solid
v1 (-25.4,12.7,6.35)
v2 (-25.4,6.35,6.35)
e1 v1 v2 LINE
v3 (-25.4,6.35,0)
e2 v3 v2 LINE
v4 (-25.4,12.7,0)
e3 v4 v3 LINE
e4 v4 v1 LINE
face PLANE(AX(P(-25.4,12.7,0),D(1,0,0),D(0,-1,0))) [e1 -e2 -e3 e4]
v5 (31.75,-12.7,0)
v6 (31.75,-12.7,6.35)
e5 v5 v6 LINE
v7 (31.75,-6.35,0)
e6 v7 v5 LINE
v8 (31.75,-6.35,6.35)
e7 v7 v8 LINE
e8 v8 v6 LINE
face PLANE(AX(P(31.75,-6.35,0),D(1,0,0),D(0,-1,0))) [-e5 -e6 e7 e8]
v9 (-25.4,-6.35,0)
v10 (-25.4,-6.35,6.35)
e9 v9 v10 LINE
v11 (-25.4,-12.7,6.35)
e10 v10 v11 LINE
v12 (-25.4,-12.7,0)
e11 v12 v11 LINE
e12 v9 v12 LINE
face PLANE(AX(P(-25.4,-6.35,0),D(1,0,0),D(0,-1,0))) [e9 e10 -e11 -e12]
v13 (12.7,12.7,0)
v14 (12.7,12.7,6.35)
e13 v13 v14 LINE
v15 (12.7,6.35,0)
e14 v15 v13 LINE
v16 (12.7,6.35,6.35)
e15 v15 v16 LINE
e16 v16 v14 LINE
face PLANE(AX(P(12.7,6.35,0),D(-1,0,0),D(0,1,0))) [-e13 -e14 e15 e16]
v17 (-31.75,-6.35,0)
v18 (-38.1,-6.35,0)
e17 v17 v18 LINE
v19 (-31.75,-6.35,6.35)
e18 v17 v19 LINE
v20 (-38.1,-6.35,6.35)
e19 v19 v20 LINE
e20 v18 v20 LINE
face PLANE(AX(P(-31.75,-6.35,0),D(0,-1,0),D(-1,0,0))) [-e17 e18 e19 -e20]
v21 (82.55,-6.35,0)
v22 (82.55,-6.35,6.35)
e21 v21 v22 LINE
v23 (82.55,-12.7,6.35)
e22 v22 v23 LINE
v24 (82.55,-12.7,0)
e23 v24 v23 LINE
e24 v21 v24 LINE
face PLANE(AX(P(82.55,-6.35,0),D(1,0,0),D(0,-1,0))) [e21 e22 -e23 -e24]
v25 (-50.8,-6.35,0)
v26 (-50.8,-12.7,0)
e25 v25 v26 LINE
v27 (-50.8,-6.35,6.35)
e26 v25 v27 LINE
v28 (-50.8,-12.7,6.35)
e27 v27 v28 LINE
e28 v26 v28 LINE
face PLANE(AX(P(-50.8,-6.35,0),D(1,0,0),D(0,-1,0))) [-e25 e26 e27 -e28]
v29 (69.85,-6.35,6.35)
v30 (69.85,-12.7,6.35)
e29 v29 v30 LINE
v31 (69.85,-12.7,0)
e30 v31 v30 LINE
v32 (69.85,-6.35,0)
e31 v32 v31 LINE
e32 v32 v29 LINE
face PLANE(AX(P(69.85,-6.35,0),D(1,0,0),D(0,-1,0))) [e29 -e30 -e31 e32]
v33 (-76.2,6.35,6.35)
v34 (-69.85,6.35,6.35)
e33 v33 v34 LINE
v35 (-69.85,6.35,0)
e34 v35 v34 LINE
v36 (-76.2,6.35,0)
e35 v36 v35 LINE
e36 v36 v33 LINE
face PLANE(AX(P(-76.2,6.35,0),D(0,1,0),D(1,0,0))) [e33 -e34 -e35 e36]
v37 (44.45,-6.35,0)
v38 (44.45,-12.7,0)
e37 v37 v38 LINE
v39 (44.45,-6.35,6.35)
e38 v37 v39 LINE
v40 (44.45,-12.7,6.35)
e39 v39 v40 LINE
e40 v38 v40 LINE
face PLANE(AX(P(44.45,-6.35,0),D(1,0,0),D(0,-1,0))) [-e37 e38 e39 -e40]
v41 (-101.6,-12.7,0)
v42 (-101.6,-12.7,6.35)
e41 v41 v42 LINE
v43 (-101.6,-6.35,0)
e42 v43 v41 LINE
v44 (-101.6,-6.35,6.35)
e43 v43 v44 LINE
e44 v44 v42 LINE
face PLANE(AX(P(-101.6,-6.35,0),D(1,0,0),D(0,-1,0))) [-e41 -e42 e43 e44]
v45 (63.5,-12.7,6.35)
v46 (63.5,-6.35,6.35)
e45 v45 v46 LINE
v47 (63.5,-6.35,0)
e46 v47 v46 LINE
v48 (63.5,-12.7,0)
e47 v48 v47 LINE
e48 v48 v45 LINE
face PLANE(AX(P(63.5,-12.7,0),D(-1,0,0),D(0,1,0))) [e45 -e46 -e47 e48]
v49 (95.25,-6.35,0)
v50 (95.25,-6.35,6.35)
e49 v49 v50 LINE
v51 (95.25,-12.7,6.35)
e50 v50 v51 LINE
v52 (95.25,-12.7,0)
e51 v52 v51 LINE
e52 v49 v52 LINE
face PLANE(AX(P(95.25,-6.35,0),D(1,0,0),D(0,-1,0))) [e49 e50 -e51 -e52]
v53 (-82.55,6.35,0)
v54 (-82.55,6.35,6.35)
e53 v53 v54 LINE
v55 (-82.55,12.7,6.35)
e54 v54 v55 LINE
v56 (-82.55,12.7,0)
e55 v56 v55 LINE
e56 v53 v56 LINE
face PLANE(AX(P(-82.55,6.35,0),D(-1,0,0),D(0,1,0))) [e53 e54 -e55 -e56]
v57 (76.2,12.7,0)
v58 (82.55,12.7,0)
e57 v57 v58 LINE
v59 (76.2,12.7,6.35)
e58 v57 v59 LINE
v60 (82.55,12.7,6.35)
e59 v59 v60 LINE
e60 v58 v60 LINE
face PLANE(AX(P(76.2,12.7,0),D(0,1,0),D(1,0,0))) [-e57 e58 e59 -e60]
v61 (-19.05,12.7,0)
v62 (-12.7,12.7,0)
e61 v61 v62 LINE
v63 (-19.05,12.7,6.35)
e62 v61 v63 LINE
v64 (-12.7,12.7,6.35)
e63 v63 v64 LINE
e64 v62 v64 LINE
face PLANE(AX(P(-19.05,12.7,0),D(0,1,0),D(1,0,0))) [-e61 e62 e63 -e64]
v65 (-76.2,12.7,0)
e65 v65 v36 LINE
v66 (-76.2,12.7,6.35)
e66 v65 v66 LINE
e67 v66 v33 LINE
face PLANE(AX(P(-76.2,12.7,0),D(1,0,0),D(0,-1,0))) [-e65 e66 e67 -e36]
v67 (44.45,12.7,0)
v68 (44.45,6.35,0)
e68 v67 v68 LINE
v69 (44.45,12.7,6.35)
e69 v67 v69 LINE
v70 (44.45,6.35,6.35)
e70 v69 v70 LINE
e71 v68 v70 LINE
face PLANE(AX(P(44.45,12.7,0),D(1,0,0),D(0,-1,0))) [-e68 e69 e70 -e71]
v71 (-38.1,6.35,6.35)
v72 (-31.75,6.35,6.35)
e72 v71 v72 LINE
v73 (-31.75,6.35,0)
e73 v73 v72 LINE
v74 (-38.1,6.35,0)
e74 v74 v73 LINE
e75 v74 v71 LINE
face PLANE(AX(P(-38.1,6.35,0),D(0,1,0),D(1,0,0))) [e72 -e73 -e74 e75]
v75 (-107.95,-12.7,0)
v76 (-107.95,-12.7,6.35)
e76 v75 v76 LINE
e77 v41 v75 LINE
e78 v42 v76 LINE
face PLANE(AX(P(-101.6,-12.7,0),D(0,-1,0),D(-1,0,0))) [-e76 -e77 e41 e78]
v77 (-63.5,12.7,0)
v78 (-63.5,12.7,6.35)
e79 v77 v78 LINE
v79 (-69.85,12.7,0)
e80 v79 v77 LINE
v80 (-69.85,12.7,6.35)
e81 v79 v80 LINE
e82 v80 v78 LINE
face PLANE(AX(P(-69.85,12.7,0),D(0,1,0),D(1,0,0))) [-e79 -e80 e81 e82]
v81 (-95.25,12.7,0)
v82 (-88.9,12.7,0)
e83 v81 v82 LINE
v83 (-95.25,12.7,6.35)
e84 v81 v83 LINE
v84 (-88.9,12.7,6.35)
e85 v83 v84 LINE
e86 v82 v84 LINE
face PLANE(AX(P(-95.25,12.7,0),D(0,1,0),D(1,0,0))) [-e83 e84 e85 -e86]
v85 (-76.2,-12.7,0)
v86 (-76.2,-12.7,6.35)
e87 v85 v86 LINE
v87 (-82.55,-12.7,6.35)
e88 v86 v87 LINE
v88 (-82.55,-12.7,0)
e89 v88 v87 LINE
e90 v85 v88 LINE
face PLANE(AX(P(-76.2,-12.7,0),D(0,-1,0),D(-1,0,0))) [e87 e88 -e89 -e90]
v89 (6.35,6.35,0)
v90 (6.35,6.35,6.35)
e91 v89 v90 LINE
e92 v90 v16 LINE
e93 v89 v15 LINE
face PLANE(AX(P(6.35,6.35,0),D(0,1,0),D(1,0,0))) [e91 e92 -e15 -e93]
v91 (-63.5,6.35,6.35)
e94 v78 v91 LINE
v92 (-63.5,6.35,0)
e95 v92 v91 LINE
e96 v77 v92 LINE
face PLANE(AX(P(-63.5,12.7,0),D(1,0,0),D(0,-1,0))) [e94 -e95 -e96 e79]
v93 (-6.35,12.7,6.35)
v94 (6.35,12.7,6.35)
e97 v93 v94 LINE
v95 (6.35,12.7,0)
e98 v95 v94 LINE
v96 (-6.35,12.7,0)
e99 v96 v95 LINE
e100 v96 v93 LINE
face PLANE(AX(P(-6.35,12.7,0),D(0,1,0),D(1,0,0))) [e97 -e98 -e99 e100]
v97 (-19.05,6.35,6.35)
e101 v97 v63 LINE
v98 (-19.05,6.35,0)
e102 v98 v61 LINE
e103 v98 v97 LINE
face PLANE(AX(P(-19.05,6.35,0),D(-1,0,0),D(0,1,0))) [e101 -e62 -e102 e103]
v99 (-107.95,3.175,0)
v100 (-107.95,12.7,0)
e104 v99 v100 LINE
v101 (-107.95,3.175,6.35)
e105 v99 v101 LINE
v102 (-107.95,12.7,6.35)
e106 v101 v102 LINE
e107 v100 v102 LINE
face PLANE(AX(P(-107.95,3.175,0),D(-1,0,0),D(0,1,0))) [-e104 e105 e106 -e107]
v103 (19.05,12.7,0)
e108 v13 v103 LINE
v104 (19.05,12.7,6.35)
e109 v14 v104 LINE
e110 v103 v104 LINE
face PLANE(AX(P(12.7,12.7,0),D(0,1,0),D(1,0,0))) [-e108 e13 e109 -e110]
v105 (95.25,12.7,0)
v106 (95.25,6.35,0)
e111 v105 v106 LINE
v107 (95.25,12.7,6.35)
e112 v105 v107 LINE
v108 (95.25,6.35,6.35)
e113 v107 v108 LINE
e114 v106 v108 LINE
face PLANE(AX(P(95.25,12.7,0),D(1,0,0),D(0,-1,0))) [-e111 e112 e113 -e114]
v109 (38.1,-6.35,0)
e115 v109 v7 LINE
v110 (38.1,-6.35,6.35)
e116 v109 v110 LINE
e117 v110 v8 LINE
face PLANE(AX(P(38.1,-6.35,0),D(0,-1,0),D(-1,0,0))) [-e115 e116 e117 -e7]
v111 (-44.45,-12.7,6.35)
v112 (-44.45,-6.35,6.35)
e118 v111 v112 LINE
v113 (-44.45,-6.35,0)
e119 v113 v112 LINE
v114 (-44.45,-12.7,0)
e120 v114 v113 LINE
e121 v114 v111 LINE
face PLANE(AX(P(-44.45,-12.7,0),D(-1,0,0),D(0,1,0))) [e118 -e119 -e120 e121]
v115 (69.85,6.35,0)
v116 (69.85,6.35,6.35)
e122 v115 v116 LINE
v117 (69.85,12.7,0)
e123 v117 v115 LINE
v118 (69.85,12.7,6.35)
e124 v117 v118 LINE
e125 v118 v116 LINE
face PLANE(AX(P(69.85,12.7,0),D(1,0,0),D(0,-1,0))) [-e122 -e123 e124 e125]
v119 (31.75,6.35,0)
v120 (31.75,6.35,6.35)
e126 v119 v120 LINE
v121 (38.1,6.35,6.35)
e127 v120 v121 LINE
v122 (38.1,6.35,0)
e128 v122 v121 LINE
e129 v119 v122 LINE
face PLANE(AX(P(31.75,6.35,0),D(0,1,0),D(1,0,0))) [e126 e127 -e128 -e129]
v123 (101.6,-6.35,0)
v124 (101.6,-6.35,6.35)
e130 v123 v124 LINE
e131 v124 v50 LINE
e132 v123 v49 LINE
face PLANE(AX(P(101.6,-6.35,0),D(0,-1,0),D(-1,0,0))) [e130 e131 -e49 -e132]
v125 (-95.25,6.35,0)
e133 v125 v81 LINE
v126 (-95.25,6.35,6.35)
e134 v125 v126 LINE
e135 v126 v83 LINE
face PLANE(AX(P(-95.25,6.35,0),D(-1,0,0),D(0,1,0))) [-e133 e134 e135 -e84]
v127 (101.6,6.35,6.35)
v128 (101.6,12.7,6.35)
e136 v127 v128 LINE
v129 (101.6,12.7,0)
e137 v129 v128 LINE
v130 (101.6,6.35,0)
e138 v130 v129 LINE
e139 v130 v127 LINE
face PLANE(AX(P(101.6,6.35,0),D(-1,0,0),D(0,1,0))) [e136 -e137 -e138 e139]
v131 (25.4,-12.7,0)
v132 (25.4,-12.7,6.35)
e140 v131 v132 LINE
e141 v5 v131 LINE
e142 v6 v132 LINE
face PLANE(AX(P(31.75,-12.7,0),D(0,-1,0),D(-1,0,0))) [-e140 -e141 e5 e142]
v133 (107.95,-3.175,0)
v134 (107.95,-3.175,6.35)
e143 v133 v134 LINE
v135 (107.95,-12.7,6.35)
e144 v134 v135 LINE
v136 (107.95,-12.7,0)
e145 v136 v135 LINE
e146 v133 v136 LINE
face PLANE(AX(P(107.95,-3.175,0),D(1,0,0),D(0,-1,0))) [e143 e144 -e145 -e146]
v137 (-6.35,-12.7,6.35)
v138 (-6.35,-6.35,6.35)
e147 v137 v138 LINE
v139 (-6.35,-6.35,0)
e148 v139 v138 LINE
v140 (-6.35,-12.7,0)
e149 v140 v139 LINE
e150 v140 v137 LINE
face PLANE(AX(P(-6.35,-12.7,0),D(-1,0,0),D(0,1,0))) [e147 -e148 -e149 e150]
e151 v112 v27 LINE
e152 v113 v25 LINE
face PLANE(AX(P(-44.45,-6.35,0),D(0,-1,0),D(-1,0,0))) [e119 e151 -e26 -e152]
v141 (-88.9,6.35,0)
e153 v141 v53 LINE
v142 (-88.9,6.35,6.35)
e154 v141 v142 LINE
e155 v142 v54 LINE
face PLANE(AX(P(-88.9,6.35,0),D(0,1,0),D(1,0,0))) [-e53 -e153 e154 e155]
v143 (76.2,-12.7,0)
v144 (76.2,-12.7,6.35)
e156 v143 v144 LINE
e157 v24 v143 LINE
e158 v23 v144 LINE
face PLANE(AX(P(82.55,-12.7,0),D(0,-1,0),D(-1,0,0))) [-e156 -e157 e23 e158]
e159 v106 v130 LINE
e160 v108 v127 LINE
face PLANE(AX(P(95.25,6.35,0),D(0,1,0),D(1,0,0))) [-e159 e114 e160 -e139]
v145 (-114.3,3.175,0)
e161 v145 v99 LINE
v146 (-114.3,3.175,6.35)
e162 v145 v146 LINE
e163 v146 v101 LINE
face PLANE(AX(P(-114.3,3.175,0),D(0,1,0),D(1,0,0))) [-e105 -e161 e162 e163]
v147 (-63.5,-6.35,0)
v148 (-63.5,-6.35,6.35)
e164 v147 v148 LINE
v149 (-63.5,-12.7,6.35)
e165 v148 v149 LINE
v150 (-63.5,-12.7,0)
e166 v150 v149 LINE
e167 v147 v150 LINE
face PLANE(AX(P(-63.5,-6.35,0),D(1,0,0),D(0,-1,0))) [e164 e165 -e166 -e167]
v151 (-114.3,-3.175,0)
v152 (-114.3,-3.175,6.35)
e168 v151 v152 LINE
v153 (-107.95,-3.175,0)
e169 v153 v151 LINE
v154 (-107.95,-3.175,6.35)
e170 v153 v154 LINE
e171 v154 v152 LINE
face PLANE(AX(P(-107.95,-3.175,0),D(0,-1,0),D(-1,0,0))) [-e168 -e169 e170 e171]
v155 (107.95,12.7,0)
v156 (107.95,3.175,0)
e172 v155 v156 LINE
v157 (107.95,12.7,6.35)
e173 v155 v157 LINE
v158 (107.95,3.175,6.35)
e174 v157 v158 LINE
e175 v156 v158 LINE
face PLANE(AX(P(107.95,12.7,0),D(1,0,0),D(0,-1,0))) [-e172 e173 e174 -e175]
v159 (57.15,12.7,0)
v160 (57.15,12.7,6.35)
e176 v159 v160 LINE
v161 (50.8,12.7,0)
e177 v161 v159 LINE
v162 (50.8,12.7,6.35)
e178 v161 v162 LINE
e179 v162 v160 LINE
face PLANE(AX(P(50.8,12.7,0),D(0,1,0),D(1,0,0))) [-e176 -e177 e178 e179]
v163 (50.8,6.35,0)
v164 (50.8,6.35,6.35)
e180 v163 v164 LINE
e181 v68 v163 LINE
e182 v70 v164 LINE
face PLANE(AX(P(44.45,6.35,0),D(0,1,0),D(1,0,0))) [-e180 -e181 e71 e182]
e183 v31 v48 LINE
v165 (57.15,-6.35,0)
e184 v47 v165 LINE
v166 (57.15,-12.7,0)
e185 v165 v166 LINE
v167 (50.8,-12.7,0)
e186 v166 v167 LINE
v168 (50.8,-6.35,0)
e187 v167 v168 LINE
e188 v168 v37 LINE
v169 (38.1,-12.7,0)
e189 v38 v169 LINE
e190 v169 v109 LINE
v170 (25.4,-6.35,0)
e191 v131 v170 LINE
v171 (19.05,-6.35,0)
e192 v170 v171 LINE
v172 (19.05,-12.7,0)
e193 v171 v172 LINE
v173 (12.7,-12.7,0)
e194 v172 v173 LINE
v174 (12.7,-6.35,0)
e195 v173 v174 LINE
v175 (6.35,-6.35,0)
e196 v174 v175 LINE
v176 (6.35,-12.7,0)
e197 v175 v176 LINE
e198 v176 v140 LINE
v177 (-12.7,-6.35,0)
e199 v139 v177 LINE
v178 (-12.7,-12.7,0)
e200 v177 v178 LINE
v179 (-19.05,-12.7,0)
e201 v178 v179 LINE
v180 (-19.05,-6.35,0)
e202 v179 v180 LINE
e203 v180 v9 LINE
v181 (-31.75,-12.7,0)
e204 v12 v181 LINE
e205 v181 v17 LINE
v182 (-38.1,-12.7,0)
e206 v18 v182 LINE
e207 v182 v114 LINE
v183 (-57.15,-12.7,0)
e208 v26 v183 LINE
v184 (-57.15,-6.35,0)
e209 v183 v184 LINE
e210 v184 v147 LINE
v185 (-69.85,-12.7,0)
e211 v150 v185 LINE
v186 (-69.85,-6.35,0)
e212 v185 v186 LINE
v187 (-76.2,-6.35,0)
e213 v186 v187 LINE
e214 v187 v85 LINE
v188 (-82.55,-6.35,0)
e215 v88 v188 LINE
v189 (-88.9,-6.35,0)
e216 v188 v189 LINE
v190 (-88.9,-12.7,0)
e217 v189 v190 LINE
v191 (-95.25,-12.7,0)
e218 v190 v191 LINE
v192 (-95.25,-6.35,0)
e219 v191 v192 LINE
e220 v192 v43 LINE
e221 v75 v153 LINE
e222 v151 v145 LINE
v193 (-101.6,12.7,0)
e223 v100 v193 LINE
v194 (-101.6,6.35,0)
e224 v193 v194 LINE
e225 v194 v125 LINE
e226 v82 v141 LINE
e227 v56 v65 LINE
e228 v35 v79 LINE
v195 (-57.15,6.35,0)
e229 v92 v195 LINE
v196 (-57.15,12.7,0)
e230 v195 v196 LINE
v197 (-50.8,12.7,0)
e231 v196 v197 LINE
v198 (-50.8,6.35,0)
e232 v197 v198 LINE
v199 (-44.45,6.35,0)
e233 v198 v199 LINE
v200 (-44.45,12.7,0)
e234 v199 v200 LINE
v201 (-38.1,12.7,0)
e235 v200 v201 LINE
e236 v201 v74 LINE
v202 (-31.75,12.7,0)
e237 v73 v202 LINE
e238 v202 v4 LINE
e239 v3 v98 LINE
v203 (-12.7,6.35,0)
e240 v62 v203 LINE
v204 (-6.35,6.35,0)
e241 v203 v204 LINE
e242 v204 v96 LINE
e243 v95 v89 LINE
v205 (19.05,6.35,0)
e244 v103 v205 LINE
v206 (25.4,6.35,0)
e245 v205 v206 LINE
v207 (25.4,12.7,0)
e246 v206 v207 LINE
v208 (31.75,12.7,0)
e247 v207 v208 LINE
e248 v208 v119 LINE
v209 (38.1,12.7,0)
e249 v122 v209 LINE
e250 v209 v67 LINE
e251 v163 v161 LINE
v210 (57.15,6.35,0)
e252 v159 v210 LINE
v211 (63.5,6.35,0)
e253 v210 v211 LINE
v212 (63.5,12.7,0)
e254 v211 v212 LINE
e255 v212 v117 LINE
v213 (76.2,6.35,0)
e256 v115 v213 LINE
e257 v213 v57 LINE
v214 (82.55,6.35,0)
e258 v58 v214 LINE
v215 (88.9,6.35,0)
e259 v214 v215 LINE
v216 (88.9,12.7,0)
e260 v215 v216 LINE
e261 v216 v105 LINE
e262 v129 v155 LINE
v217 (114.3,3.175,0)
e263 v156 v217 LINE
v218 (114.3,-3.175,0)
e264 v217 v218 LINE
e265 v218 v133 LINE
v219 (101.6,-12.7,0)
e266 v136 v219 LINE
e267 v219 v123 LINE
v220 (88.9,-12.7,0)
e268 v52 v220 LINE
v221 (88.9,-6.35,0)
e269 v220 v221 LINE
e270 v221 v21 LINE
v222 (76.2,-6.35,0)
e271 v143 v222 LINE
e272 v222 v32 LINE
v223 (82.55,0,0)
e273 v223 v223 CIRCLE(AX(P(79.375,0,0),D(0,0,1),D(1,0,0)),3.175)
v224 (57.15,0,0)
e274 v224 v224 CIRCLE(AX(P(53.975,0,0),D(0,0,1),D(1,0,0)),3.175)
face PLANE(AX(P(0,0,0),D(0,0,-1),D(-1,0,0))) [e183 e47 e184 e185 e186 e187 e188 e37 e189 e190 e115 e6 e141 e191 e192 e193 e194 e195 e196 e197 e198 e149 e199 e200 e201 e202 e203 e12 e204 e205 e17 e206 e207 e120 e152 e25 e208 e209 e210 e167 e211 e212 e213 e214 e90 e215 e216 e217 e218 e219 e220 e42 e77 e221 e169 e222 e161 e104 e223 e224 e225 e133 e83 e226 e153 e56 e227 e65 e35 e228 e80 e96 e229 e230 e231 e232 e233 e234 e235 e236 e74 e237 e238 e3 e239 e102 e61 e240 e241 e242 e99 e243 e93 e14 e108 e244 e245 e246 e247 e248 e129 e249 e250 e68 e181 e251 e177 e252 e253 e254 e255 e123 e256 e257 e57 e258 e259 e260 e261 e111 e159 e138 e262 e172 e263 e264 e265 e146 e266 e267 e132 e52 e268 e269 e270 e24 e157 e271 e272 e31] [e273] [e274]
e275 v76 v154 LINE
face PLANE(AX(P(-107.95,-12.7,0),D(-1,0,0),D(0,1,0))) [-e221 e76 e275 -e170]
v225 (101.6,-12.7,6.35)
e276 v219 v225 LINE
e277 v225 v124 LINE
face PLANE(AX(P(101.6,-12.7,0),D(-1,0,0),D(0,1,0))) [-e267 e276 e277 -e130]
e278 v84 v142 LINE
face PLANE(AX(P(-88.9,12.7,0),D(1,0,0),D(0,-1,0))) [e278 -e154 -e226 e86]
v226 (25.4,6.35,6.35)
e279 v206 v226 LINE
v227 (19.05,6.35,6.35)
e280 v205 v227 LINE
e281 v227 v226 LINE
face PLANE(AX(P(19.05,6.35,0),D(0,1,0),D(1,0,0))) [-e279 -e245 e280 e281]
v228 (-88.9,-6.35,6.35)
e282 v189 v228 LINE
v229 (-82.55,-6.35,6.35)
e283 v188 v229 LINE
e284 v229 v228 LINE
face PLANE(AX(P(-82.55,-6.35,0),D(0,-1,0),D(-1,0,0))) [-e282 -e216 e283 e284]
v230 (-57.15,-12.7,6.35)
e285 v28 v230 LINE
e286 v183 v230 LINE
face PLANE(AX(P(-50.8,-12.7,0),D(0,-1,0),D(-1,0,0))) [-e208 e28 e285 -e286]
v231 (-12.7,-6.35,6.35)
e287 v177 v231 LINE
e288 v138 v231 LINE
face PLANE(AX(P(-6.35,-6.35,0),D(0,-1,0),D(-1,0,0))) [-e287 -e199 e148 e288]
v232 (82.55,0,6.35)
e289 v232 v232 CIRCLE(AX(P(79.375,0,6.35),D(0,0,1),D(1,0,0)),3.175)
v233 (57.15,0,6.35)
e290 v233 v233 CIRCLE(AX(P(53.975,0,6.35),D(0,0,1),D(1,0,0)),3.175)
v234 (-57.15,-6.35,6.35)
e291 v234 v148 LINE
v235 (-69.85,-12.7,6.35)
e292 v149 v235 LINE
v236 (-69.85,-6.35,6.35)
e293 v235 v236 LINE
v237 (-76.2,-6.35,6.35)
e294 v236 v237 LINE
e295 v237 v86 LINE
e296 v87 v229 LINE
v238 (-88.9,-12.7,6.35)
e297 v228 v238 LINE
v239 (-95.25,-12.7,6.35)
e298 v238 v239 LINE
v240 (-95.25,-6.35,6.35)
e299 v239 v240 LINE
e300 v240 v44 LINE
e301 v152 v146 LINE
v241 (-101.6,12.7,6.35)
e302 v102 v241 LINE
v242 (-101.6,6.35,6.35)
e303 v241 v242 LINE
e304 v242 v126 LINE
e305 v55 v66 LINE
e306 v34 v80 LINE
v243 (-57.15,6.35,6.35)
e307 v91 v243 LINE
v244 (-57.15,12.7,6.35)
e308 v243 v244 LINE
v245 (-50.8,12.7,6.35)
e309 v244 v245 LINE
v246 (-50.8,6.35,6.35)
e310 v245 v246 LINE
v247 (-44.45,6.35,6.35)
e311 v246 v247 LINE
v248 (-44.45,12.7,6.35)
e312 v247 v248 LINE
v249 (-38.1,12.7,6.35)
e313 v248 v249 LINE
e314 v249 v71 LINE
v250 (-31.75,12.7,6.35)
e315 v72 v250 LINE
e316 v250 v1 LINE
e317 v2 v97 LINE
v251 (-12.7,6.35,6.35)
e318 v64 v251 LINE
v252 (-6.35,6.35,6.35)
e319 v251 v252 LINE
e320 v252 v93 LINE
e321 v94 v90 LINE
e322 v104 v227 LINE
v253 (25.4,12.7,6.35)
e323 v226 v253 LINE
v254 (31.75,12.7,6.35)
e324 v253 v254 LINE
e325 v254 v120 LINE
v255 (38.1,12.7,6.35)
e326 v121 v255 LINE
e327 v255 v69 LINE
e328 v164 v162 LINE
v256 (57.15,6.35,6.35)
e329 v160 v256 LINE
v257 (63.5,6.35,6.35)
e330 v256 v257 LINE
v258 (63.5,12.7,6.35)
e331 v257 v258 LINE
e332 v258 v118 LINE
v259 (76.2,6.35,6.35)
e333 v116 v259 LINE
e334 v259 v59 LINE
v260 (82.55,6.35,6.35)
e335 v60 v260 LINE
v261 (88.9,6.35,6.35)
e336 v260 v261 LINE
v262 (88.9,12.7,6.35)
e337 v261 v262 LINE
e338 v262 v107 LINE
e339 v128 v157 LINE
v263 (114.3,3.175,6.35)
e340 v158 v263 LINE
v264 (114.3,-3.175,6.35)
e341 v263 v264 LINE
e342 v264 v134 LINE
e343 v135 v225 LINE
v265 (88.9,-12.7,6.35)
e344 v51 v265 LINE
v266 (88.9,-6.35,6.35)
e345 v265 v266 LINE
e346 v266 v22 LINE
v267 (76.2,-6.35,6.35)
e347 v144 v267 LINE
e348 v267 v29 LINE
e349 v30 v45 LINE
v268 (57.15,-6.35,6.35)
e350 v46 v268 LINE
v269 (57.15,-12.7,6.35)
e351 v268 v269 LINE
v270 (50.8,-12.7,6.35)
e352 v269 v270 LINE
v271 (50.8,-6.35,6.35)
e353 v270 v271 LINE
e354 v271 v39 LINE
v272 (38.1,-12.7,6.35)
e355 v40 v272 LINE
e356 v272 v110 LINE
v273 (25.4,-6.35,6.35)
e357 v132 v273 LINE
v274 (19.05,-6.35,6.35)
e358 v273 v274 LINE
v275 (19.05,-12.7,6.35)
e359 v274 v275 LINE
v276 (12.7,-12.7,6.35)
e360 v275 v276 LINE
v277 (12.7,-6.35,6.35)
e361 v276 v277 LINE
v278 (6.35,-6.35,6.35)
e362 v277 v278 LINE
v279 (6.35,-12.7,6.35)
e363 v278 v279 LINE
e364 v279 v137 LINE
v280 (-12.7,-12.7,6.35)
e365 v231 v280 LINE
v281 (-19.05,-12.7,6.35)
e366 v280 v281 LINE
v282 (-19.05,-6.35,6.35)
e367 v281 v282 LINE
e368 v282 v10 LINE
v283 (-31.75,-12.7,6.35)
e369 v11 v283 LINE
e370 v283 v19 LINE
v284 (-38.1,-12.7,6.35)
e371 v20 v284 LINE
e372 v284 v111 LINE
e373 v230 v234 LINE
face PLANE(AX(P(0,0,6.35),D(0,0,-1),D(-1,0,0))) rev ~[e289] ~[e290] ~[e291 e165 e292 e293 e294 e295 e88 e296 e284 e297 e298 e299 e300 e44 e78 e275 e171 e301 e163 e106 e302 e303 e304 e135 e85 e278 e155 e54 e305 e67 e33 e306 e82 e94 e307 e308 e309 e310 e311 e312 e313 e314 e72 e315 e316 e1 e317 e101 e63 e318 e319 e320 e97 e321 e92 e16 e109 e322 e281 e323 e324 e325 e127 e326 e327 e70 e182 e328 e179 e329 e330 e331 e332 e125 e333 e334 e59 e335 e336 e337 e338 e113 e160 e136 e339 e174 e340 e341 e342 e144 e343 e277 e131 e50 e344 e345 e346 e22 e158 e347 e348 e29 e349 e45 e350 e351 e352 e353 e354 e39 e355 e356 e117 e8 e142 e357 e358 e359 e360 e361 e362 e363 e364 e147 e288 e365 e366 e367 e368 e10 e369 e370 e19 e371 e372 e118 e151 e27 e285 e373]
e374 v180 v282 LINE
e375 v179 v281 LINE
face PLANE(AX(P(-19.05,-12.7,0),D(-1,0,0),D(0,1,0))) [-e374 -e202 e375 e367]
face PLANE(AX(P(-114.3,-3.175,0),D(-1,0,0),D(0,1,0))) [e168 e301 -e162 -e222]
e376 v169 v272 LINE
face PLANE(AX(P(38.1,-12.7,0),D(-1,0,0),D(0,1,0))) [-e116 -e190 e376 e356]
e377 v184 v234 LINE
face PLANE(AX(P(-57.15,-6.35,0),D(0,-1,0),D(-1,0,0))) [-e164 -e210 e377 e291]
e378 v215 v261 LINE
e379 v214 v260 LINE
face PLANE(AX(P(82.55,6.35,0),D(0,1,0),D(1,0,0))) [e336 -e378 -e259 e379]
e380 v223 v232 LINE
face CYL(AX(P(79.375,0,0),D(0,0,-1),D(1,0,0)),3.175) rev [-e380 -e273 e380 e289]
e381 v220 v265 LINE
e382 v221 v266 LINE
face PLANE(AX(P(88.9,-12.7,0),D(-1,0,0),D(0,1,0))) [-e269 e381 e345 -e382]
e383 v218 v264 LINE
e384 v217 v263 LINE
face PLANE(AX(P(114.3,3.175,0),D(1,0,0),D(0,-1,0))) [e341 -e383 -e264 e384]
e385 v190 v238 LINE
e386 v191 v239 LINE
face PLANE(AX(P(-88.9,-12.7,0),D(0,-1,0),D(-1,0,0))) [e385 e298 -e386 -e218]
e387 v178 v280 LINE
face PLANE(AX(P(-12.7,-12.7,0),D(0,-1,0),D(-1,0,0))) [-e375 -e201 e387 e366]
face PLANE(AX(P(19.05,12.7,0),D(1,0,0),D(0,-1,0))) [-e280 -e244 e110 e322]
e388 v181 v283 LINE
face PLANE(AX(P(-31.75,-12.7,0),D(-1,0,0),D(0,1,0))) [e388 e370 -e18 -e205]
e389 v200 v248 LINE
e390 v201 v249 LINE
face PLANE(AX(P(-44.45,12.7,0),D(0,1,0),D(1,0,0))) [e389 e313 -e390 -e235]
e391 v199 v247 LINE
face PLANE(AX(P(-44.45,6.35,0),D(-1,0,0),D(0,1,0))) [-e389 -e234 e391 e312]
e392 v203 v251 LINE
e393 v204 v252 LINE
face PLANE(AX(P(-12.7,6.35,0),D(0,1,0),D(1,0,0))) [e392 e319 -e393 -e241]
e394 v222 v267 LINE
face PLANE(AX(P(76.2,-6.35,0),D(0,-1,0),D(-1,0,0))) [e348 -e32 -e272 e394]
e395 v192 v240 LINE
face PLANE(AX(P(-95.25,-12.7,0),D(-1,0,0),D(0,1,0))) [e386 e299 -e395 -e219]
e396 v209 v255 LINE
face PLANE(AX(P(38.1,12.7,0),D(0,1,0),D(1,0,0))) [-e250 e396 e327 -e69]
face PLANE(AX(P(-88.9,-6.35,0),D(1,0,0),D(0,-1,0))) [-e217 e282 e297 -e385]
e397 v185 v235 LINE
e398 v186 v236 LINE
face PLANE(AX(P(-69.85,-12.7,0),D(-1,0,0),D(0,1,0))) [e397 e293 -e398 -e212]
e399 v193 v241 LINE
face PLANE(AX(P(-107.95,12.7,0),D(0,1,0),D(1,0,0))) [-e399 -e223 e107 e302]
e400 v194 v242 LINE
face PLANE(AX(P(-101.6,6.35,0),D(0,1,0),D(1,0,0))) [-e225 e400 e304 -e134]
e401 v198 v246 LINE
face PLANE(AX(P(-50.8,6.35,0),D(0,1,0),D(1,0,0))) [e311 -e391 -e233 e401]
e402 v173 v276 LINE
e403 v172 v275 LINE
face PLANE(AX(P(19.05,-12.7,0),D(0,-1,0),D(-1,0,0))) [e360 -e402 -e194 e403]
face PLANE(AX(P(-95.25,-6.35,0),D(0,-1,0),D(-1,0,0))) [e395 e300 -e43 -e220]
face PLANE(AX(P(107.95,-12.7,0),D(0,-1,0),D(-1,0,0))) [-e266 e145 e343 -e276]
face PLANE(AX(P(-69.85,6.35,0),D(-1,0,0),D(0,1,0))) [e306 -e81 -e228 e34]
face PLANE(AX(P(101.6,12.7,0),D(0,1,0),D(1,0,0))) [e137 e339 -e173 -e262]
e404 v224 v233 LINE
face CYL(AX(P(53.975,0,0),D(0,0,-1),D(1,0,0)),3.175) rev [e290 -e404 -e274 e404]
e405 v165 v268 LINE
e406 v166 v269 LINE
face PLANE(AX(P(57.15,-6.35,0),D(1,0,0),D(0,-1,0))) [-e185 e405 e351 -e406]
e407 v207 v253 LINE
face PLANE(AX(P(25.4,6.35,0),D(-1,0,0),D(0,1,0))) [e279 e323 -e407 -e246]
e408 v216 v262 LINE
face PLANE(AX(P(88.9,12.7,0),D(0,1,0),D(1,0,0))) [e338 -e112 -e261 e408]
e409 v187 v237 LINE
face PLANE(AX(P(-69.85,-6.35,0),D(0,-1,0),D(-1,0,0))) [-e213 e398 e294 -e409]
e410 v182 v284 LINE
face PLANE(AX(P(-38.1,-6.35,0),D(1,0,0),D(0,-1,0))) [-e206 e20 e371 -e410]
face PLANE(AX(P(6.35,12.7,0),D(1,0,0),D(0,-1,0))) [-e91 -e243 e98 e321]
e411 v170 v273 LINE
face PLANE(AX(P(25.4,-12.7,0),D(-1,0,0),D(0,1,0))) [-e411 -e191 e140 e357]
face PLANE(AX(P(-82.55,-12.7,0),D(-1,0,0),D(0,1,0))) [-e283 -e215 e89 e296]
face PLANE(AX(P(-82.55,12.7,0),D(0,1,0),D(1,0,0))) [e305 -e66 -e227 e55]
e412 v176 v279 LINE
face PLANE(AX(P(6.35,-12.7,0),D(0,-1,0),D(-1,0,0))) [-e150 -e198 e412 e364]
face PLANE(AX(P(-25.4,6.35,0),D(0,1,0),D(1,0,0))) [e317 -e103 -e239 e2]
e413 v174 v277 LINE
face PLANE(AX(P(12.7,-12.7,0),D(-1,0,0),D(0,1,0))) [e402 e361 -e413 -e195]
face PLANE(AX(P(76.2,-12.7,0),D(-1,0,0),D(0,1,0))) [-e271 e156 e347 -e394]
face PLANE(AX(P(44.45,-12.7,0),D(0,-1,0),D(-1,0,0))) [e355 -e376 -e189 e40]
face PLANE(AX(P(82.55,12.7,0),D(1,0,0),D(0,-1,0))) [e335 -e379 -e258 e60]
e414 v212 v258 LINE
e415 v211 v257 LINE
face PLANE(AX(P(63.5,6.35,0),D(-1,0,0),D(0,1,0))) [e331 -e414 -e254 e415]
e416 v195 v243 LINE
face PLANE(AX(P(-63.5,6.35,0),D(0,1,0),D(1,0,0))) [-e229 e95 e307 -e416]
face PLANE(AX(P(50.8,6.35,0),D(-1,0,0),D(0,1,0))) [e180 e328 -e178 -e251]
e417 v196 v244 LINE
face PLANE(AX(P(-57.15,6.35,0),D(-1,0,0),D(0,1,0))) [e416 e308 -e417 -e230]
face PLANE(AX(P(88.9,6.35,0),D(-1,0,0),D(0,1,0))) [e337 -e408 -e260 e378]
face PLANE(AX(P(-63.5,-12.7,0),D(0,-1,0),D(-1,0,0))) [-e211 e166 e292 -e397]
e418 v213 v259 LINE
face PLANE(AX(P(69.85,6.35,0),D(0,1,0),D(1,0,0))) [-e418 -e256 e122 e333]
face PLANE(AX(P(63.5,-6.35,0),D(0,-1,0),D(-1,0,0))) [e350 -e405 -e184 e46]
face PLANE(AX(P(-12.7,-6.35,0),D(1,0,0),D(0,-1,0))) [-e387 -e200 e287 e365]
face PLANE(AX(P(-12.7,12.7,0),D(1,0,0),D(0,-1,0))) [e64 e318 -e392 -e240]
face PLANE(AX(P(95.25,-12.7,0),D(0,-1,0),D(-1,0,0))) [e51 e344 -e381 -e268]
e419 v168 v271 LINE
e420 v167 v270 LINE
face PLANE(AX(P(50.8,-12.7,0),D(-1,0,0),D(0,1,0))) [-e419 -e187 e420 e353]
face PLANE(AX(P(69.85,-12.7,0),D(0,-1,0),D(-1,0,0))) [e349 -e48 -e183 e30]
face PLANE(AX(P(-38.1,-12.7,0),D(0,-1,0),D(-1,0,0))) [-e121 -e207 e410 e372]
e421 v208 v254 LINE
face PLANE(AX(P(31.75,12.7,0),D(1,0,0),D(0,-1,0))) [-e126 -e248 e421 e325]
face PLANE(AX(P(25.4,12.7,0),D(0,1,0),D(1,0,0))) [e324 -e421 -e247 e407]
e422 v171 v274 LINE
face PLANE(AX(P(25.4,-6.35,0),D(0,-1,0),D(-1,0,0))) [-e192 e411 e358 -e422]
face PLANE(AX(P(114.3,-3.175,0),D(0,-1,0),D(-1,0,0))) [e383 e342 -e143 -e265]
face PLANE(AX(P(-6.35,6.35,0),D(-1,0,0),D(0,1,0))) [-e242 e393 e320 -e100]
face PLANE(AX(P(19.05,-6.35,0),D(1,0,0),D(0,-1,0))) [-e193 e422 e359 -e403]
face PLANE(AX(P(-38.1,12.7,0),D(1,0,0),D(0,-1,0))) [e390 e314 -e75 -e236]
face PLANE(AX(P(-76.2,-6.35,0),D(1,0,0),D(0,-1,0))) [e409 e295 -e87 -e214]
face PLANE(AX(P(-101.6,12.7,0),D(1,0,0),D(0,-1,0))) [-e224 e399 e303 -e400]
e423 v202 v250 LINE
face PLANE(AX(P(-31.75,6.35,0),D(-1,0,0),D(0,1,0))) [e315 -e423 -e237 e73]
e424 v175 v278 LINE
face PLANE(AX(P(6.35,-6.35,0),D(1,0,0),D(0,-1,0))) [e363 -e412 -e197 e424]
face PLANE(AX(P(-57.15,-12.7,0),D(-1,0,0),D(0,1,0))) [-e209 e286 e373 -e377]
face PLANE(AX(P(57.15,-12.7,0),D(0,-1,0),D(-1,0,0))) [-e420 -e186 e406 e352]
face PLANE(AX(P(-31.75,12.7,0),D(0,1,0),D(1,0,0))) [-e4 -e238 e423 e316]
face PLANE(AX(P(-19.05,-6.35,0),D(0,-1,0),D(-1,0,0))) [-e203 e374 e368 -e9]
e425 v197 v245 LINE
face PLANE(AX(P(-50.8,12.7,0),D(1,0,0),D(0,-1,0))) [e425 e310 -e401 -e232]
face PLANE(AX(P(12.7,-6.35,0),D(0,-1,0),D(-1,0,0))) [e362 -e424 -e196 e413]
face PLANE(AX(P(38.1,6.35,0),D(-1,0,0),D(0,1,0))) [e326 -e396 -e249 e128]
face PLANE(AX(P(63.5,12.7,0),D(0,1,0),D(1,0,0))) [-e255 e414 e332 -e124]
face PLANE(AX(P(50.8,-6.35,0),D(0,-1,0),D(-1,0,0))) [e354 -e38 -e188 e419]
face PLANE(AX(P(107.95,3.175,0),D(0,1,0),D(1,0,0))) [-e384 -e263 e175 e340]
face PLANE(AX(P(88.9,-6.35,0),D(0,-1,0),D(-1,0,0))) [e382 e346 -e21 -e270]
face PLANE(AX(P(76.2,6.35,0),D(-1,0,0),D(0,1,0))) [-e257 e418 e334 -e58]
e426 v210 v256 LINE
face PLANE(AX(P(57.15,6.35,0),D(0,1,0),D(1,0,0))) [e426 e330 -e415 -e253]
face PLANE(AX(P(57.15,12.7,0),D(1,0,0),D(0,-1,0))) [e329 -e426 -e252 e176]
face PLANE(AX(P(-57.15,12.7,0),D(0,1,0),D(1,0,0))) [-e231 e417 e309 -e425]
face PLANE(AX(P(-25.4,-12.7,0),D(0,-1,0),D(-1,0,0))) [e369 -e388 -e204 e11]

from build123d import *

# Parameters (mm, degrees)
SKETCH2_R           = 3.175
BOSS_EXTRUDE1_DEPTH = 6.35


with BuildPart() as part:
    # Sketch2 → Boss-Extrude1 (new body)
    with BuildSketch(Plane.XY):
        Polygon((-101.6, 12.7), (-107.95, 12.7), (-107.95, 3.175), (-114.3, 3.175), (-114.3, -3.175), (-107.95, -3.175), (-107.95, -12.7), (-101.6, -12.7), (-101.6, -6.35), (-95.25, -6.35), (-95.25, -12.7), (-88.9, -12.7), (-88.9, -6.35), (-82.55, -6.35), (-82.55, -12.7), (-76.2, -12.7), (-76.2, -6.35), (-69.85, -6.35), (-69.85, -12.7), (-63.5, -12.7), (-63.5, -6.35), (-57.15, -6.35), (-57.15, -12.7), (-50.8, -12.7), (-50.8, -6.35), (-44.45, -6.35), (-44.45, -12.7), (-38.1, -12.7), (-38.1, -6.35), (-31.75, -6.35), (-31.75, -12.7), (-25.4, -12.7), (-25.4, -6.35), (-19.05, -6.35), (-19.05, -12.7), (-12.7, -12.7), (-12.7, -6.35), (-6.35, -6.35), (-6.35, -12.7), (6.35, -12.7), (6.35, -6.35), (12.7, -6.35), (12.7, -12.7), (19.05, -12.7), (19.05, -6.35), (25.4, -6.35), (25.4, -12.7), (31.75, -12.7), (31.75, -6.35), (38.1, -6.35), (38.1, -12.7), (44.45, -12.7), (44.45, -6.35), (50.8, -6.35), (50.8, -12.7), (57.15, -12.7), (57.15, -6.35), (63.5, -6.35), (63.5, -12.7), (69.85, -12.7), (69.85, -6.35), (76.2, -6.35), (76.2, -12.7), (82.55, -12.7), (82.55, -6.35), (88.9, -6.35), (88.9, -12.7), (95.25, -12.7), (95.25, -6.35), (101.6, -6.35), (101.6, -12.7), (107.95, -12.7), (107.95, -3.175), (114.3, -3.175), (114.3, 3.175), (107.95, 3.175), (107.95, 12.7), (101.6, 12.7), (101.6, 6.35), (95.25, 6.35), (95.25, 12.7), (88.9, 12.7), (88.9, 6.35), (82.55, 6.35), (82.55, 12.7), (76.2, 12.7), (76.2, 6.35), (69.85, 6.35), (69.85, 12.7), (63.5, 12.7), (63.5, 6.35), (57.15, 6.35), (57.15, 12.7), (50.8, 12.7), (50.8, 6.35), (44.45, 6.35), (44.45, 12.7), (38.1, 12.7), (38.1, 6.35), (31.75, 6.35), (31.75, 12.7), (25.4, 12.7), (25.4, 6.35), (19.05, 6.35), (19.05, 12.7), (12.7, 12.7), (12.7, 6.35), (6.35, 6.35), (6.35, 12.7), (-6.35, 12.7), (-6.35, 6.35), (-12.7, 6.35), (-12.7, 12.7), (-19.05, 12.7), (-19.05, 6.35), (-25.4, 6.35), (-25.4, 12.7), (-31.75, 12.7), (-31.75, 6.35), (-38.1, 6.35), (-38.1, 12.7), (-44.45, 12.7), (-44.45, 6.35), (-50.8, 6.35), (-50.8, 12.7), (-57.15, 12.7), (-57.15, 6.35), (-63.5, 6.35), (-63.5, 12.7), (-69.85, 12.7), (-69.85, 6.35), (-76.2, 6.35), (-76.2, 12.7), (-82.55, 12.7), (-82.55, 6.35), (-88.9, 6.35), (-88.9, 12.7), (-95.25, 12.7), (-95.25, 6.35), (-101.6, 6.35), align=None)
        with Locations((53.975, 0)):
            Circle(SKETCH2_R, mode=Mode.SUBTRACT)
        with Locations((79.375, 0)):
            Circle(SKETCH2_R, mode=Mode.SUBTRACT)
    extrude(amount=BOSS_EXTRUDE1_DEPTH)


solid = part.part
